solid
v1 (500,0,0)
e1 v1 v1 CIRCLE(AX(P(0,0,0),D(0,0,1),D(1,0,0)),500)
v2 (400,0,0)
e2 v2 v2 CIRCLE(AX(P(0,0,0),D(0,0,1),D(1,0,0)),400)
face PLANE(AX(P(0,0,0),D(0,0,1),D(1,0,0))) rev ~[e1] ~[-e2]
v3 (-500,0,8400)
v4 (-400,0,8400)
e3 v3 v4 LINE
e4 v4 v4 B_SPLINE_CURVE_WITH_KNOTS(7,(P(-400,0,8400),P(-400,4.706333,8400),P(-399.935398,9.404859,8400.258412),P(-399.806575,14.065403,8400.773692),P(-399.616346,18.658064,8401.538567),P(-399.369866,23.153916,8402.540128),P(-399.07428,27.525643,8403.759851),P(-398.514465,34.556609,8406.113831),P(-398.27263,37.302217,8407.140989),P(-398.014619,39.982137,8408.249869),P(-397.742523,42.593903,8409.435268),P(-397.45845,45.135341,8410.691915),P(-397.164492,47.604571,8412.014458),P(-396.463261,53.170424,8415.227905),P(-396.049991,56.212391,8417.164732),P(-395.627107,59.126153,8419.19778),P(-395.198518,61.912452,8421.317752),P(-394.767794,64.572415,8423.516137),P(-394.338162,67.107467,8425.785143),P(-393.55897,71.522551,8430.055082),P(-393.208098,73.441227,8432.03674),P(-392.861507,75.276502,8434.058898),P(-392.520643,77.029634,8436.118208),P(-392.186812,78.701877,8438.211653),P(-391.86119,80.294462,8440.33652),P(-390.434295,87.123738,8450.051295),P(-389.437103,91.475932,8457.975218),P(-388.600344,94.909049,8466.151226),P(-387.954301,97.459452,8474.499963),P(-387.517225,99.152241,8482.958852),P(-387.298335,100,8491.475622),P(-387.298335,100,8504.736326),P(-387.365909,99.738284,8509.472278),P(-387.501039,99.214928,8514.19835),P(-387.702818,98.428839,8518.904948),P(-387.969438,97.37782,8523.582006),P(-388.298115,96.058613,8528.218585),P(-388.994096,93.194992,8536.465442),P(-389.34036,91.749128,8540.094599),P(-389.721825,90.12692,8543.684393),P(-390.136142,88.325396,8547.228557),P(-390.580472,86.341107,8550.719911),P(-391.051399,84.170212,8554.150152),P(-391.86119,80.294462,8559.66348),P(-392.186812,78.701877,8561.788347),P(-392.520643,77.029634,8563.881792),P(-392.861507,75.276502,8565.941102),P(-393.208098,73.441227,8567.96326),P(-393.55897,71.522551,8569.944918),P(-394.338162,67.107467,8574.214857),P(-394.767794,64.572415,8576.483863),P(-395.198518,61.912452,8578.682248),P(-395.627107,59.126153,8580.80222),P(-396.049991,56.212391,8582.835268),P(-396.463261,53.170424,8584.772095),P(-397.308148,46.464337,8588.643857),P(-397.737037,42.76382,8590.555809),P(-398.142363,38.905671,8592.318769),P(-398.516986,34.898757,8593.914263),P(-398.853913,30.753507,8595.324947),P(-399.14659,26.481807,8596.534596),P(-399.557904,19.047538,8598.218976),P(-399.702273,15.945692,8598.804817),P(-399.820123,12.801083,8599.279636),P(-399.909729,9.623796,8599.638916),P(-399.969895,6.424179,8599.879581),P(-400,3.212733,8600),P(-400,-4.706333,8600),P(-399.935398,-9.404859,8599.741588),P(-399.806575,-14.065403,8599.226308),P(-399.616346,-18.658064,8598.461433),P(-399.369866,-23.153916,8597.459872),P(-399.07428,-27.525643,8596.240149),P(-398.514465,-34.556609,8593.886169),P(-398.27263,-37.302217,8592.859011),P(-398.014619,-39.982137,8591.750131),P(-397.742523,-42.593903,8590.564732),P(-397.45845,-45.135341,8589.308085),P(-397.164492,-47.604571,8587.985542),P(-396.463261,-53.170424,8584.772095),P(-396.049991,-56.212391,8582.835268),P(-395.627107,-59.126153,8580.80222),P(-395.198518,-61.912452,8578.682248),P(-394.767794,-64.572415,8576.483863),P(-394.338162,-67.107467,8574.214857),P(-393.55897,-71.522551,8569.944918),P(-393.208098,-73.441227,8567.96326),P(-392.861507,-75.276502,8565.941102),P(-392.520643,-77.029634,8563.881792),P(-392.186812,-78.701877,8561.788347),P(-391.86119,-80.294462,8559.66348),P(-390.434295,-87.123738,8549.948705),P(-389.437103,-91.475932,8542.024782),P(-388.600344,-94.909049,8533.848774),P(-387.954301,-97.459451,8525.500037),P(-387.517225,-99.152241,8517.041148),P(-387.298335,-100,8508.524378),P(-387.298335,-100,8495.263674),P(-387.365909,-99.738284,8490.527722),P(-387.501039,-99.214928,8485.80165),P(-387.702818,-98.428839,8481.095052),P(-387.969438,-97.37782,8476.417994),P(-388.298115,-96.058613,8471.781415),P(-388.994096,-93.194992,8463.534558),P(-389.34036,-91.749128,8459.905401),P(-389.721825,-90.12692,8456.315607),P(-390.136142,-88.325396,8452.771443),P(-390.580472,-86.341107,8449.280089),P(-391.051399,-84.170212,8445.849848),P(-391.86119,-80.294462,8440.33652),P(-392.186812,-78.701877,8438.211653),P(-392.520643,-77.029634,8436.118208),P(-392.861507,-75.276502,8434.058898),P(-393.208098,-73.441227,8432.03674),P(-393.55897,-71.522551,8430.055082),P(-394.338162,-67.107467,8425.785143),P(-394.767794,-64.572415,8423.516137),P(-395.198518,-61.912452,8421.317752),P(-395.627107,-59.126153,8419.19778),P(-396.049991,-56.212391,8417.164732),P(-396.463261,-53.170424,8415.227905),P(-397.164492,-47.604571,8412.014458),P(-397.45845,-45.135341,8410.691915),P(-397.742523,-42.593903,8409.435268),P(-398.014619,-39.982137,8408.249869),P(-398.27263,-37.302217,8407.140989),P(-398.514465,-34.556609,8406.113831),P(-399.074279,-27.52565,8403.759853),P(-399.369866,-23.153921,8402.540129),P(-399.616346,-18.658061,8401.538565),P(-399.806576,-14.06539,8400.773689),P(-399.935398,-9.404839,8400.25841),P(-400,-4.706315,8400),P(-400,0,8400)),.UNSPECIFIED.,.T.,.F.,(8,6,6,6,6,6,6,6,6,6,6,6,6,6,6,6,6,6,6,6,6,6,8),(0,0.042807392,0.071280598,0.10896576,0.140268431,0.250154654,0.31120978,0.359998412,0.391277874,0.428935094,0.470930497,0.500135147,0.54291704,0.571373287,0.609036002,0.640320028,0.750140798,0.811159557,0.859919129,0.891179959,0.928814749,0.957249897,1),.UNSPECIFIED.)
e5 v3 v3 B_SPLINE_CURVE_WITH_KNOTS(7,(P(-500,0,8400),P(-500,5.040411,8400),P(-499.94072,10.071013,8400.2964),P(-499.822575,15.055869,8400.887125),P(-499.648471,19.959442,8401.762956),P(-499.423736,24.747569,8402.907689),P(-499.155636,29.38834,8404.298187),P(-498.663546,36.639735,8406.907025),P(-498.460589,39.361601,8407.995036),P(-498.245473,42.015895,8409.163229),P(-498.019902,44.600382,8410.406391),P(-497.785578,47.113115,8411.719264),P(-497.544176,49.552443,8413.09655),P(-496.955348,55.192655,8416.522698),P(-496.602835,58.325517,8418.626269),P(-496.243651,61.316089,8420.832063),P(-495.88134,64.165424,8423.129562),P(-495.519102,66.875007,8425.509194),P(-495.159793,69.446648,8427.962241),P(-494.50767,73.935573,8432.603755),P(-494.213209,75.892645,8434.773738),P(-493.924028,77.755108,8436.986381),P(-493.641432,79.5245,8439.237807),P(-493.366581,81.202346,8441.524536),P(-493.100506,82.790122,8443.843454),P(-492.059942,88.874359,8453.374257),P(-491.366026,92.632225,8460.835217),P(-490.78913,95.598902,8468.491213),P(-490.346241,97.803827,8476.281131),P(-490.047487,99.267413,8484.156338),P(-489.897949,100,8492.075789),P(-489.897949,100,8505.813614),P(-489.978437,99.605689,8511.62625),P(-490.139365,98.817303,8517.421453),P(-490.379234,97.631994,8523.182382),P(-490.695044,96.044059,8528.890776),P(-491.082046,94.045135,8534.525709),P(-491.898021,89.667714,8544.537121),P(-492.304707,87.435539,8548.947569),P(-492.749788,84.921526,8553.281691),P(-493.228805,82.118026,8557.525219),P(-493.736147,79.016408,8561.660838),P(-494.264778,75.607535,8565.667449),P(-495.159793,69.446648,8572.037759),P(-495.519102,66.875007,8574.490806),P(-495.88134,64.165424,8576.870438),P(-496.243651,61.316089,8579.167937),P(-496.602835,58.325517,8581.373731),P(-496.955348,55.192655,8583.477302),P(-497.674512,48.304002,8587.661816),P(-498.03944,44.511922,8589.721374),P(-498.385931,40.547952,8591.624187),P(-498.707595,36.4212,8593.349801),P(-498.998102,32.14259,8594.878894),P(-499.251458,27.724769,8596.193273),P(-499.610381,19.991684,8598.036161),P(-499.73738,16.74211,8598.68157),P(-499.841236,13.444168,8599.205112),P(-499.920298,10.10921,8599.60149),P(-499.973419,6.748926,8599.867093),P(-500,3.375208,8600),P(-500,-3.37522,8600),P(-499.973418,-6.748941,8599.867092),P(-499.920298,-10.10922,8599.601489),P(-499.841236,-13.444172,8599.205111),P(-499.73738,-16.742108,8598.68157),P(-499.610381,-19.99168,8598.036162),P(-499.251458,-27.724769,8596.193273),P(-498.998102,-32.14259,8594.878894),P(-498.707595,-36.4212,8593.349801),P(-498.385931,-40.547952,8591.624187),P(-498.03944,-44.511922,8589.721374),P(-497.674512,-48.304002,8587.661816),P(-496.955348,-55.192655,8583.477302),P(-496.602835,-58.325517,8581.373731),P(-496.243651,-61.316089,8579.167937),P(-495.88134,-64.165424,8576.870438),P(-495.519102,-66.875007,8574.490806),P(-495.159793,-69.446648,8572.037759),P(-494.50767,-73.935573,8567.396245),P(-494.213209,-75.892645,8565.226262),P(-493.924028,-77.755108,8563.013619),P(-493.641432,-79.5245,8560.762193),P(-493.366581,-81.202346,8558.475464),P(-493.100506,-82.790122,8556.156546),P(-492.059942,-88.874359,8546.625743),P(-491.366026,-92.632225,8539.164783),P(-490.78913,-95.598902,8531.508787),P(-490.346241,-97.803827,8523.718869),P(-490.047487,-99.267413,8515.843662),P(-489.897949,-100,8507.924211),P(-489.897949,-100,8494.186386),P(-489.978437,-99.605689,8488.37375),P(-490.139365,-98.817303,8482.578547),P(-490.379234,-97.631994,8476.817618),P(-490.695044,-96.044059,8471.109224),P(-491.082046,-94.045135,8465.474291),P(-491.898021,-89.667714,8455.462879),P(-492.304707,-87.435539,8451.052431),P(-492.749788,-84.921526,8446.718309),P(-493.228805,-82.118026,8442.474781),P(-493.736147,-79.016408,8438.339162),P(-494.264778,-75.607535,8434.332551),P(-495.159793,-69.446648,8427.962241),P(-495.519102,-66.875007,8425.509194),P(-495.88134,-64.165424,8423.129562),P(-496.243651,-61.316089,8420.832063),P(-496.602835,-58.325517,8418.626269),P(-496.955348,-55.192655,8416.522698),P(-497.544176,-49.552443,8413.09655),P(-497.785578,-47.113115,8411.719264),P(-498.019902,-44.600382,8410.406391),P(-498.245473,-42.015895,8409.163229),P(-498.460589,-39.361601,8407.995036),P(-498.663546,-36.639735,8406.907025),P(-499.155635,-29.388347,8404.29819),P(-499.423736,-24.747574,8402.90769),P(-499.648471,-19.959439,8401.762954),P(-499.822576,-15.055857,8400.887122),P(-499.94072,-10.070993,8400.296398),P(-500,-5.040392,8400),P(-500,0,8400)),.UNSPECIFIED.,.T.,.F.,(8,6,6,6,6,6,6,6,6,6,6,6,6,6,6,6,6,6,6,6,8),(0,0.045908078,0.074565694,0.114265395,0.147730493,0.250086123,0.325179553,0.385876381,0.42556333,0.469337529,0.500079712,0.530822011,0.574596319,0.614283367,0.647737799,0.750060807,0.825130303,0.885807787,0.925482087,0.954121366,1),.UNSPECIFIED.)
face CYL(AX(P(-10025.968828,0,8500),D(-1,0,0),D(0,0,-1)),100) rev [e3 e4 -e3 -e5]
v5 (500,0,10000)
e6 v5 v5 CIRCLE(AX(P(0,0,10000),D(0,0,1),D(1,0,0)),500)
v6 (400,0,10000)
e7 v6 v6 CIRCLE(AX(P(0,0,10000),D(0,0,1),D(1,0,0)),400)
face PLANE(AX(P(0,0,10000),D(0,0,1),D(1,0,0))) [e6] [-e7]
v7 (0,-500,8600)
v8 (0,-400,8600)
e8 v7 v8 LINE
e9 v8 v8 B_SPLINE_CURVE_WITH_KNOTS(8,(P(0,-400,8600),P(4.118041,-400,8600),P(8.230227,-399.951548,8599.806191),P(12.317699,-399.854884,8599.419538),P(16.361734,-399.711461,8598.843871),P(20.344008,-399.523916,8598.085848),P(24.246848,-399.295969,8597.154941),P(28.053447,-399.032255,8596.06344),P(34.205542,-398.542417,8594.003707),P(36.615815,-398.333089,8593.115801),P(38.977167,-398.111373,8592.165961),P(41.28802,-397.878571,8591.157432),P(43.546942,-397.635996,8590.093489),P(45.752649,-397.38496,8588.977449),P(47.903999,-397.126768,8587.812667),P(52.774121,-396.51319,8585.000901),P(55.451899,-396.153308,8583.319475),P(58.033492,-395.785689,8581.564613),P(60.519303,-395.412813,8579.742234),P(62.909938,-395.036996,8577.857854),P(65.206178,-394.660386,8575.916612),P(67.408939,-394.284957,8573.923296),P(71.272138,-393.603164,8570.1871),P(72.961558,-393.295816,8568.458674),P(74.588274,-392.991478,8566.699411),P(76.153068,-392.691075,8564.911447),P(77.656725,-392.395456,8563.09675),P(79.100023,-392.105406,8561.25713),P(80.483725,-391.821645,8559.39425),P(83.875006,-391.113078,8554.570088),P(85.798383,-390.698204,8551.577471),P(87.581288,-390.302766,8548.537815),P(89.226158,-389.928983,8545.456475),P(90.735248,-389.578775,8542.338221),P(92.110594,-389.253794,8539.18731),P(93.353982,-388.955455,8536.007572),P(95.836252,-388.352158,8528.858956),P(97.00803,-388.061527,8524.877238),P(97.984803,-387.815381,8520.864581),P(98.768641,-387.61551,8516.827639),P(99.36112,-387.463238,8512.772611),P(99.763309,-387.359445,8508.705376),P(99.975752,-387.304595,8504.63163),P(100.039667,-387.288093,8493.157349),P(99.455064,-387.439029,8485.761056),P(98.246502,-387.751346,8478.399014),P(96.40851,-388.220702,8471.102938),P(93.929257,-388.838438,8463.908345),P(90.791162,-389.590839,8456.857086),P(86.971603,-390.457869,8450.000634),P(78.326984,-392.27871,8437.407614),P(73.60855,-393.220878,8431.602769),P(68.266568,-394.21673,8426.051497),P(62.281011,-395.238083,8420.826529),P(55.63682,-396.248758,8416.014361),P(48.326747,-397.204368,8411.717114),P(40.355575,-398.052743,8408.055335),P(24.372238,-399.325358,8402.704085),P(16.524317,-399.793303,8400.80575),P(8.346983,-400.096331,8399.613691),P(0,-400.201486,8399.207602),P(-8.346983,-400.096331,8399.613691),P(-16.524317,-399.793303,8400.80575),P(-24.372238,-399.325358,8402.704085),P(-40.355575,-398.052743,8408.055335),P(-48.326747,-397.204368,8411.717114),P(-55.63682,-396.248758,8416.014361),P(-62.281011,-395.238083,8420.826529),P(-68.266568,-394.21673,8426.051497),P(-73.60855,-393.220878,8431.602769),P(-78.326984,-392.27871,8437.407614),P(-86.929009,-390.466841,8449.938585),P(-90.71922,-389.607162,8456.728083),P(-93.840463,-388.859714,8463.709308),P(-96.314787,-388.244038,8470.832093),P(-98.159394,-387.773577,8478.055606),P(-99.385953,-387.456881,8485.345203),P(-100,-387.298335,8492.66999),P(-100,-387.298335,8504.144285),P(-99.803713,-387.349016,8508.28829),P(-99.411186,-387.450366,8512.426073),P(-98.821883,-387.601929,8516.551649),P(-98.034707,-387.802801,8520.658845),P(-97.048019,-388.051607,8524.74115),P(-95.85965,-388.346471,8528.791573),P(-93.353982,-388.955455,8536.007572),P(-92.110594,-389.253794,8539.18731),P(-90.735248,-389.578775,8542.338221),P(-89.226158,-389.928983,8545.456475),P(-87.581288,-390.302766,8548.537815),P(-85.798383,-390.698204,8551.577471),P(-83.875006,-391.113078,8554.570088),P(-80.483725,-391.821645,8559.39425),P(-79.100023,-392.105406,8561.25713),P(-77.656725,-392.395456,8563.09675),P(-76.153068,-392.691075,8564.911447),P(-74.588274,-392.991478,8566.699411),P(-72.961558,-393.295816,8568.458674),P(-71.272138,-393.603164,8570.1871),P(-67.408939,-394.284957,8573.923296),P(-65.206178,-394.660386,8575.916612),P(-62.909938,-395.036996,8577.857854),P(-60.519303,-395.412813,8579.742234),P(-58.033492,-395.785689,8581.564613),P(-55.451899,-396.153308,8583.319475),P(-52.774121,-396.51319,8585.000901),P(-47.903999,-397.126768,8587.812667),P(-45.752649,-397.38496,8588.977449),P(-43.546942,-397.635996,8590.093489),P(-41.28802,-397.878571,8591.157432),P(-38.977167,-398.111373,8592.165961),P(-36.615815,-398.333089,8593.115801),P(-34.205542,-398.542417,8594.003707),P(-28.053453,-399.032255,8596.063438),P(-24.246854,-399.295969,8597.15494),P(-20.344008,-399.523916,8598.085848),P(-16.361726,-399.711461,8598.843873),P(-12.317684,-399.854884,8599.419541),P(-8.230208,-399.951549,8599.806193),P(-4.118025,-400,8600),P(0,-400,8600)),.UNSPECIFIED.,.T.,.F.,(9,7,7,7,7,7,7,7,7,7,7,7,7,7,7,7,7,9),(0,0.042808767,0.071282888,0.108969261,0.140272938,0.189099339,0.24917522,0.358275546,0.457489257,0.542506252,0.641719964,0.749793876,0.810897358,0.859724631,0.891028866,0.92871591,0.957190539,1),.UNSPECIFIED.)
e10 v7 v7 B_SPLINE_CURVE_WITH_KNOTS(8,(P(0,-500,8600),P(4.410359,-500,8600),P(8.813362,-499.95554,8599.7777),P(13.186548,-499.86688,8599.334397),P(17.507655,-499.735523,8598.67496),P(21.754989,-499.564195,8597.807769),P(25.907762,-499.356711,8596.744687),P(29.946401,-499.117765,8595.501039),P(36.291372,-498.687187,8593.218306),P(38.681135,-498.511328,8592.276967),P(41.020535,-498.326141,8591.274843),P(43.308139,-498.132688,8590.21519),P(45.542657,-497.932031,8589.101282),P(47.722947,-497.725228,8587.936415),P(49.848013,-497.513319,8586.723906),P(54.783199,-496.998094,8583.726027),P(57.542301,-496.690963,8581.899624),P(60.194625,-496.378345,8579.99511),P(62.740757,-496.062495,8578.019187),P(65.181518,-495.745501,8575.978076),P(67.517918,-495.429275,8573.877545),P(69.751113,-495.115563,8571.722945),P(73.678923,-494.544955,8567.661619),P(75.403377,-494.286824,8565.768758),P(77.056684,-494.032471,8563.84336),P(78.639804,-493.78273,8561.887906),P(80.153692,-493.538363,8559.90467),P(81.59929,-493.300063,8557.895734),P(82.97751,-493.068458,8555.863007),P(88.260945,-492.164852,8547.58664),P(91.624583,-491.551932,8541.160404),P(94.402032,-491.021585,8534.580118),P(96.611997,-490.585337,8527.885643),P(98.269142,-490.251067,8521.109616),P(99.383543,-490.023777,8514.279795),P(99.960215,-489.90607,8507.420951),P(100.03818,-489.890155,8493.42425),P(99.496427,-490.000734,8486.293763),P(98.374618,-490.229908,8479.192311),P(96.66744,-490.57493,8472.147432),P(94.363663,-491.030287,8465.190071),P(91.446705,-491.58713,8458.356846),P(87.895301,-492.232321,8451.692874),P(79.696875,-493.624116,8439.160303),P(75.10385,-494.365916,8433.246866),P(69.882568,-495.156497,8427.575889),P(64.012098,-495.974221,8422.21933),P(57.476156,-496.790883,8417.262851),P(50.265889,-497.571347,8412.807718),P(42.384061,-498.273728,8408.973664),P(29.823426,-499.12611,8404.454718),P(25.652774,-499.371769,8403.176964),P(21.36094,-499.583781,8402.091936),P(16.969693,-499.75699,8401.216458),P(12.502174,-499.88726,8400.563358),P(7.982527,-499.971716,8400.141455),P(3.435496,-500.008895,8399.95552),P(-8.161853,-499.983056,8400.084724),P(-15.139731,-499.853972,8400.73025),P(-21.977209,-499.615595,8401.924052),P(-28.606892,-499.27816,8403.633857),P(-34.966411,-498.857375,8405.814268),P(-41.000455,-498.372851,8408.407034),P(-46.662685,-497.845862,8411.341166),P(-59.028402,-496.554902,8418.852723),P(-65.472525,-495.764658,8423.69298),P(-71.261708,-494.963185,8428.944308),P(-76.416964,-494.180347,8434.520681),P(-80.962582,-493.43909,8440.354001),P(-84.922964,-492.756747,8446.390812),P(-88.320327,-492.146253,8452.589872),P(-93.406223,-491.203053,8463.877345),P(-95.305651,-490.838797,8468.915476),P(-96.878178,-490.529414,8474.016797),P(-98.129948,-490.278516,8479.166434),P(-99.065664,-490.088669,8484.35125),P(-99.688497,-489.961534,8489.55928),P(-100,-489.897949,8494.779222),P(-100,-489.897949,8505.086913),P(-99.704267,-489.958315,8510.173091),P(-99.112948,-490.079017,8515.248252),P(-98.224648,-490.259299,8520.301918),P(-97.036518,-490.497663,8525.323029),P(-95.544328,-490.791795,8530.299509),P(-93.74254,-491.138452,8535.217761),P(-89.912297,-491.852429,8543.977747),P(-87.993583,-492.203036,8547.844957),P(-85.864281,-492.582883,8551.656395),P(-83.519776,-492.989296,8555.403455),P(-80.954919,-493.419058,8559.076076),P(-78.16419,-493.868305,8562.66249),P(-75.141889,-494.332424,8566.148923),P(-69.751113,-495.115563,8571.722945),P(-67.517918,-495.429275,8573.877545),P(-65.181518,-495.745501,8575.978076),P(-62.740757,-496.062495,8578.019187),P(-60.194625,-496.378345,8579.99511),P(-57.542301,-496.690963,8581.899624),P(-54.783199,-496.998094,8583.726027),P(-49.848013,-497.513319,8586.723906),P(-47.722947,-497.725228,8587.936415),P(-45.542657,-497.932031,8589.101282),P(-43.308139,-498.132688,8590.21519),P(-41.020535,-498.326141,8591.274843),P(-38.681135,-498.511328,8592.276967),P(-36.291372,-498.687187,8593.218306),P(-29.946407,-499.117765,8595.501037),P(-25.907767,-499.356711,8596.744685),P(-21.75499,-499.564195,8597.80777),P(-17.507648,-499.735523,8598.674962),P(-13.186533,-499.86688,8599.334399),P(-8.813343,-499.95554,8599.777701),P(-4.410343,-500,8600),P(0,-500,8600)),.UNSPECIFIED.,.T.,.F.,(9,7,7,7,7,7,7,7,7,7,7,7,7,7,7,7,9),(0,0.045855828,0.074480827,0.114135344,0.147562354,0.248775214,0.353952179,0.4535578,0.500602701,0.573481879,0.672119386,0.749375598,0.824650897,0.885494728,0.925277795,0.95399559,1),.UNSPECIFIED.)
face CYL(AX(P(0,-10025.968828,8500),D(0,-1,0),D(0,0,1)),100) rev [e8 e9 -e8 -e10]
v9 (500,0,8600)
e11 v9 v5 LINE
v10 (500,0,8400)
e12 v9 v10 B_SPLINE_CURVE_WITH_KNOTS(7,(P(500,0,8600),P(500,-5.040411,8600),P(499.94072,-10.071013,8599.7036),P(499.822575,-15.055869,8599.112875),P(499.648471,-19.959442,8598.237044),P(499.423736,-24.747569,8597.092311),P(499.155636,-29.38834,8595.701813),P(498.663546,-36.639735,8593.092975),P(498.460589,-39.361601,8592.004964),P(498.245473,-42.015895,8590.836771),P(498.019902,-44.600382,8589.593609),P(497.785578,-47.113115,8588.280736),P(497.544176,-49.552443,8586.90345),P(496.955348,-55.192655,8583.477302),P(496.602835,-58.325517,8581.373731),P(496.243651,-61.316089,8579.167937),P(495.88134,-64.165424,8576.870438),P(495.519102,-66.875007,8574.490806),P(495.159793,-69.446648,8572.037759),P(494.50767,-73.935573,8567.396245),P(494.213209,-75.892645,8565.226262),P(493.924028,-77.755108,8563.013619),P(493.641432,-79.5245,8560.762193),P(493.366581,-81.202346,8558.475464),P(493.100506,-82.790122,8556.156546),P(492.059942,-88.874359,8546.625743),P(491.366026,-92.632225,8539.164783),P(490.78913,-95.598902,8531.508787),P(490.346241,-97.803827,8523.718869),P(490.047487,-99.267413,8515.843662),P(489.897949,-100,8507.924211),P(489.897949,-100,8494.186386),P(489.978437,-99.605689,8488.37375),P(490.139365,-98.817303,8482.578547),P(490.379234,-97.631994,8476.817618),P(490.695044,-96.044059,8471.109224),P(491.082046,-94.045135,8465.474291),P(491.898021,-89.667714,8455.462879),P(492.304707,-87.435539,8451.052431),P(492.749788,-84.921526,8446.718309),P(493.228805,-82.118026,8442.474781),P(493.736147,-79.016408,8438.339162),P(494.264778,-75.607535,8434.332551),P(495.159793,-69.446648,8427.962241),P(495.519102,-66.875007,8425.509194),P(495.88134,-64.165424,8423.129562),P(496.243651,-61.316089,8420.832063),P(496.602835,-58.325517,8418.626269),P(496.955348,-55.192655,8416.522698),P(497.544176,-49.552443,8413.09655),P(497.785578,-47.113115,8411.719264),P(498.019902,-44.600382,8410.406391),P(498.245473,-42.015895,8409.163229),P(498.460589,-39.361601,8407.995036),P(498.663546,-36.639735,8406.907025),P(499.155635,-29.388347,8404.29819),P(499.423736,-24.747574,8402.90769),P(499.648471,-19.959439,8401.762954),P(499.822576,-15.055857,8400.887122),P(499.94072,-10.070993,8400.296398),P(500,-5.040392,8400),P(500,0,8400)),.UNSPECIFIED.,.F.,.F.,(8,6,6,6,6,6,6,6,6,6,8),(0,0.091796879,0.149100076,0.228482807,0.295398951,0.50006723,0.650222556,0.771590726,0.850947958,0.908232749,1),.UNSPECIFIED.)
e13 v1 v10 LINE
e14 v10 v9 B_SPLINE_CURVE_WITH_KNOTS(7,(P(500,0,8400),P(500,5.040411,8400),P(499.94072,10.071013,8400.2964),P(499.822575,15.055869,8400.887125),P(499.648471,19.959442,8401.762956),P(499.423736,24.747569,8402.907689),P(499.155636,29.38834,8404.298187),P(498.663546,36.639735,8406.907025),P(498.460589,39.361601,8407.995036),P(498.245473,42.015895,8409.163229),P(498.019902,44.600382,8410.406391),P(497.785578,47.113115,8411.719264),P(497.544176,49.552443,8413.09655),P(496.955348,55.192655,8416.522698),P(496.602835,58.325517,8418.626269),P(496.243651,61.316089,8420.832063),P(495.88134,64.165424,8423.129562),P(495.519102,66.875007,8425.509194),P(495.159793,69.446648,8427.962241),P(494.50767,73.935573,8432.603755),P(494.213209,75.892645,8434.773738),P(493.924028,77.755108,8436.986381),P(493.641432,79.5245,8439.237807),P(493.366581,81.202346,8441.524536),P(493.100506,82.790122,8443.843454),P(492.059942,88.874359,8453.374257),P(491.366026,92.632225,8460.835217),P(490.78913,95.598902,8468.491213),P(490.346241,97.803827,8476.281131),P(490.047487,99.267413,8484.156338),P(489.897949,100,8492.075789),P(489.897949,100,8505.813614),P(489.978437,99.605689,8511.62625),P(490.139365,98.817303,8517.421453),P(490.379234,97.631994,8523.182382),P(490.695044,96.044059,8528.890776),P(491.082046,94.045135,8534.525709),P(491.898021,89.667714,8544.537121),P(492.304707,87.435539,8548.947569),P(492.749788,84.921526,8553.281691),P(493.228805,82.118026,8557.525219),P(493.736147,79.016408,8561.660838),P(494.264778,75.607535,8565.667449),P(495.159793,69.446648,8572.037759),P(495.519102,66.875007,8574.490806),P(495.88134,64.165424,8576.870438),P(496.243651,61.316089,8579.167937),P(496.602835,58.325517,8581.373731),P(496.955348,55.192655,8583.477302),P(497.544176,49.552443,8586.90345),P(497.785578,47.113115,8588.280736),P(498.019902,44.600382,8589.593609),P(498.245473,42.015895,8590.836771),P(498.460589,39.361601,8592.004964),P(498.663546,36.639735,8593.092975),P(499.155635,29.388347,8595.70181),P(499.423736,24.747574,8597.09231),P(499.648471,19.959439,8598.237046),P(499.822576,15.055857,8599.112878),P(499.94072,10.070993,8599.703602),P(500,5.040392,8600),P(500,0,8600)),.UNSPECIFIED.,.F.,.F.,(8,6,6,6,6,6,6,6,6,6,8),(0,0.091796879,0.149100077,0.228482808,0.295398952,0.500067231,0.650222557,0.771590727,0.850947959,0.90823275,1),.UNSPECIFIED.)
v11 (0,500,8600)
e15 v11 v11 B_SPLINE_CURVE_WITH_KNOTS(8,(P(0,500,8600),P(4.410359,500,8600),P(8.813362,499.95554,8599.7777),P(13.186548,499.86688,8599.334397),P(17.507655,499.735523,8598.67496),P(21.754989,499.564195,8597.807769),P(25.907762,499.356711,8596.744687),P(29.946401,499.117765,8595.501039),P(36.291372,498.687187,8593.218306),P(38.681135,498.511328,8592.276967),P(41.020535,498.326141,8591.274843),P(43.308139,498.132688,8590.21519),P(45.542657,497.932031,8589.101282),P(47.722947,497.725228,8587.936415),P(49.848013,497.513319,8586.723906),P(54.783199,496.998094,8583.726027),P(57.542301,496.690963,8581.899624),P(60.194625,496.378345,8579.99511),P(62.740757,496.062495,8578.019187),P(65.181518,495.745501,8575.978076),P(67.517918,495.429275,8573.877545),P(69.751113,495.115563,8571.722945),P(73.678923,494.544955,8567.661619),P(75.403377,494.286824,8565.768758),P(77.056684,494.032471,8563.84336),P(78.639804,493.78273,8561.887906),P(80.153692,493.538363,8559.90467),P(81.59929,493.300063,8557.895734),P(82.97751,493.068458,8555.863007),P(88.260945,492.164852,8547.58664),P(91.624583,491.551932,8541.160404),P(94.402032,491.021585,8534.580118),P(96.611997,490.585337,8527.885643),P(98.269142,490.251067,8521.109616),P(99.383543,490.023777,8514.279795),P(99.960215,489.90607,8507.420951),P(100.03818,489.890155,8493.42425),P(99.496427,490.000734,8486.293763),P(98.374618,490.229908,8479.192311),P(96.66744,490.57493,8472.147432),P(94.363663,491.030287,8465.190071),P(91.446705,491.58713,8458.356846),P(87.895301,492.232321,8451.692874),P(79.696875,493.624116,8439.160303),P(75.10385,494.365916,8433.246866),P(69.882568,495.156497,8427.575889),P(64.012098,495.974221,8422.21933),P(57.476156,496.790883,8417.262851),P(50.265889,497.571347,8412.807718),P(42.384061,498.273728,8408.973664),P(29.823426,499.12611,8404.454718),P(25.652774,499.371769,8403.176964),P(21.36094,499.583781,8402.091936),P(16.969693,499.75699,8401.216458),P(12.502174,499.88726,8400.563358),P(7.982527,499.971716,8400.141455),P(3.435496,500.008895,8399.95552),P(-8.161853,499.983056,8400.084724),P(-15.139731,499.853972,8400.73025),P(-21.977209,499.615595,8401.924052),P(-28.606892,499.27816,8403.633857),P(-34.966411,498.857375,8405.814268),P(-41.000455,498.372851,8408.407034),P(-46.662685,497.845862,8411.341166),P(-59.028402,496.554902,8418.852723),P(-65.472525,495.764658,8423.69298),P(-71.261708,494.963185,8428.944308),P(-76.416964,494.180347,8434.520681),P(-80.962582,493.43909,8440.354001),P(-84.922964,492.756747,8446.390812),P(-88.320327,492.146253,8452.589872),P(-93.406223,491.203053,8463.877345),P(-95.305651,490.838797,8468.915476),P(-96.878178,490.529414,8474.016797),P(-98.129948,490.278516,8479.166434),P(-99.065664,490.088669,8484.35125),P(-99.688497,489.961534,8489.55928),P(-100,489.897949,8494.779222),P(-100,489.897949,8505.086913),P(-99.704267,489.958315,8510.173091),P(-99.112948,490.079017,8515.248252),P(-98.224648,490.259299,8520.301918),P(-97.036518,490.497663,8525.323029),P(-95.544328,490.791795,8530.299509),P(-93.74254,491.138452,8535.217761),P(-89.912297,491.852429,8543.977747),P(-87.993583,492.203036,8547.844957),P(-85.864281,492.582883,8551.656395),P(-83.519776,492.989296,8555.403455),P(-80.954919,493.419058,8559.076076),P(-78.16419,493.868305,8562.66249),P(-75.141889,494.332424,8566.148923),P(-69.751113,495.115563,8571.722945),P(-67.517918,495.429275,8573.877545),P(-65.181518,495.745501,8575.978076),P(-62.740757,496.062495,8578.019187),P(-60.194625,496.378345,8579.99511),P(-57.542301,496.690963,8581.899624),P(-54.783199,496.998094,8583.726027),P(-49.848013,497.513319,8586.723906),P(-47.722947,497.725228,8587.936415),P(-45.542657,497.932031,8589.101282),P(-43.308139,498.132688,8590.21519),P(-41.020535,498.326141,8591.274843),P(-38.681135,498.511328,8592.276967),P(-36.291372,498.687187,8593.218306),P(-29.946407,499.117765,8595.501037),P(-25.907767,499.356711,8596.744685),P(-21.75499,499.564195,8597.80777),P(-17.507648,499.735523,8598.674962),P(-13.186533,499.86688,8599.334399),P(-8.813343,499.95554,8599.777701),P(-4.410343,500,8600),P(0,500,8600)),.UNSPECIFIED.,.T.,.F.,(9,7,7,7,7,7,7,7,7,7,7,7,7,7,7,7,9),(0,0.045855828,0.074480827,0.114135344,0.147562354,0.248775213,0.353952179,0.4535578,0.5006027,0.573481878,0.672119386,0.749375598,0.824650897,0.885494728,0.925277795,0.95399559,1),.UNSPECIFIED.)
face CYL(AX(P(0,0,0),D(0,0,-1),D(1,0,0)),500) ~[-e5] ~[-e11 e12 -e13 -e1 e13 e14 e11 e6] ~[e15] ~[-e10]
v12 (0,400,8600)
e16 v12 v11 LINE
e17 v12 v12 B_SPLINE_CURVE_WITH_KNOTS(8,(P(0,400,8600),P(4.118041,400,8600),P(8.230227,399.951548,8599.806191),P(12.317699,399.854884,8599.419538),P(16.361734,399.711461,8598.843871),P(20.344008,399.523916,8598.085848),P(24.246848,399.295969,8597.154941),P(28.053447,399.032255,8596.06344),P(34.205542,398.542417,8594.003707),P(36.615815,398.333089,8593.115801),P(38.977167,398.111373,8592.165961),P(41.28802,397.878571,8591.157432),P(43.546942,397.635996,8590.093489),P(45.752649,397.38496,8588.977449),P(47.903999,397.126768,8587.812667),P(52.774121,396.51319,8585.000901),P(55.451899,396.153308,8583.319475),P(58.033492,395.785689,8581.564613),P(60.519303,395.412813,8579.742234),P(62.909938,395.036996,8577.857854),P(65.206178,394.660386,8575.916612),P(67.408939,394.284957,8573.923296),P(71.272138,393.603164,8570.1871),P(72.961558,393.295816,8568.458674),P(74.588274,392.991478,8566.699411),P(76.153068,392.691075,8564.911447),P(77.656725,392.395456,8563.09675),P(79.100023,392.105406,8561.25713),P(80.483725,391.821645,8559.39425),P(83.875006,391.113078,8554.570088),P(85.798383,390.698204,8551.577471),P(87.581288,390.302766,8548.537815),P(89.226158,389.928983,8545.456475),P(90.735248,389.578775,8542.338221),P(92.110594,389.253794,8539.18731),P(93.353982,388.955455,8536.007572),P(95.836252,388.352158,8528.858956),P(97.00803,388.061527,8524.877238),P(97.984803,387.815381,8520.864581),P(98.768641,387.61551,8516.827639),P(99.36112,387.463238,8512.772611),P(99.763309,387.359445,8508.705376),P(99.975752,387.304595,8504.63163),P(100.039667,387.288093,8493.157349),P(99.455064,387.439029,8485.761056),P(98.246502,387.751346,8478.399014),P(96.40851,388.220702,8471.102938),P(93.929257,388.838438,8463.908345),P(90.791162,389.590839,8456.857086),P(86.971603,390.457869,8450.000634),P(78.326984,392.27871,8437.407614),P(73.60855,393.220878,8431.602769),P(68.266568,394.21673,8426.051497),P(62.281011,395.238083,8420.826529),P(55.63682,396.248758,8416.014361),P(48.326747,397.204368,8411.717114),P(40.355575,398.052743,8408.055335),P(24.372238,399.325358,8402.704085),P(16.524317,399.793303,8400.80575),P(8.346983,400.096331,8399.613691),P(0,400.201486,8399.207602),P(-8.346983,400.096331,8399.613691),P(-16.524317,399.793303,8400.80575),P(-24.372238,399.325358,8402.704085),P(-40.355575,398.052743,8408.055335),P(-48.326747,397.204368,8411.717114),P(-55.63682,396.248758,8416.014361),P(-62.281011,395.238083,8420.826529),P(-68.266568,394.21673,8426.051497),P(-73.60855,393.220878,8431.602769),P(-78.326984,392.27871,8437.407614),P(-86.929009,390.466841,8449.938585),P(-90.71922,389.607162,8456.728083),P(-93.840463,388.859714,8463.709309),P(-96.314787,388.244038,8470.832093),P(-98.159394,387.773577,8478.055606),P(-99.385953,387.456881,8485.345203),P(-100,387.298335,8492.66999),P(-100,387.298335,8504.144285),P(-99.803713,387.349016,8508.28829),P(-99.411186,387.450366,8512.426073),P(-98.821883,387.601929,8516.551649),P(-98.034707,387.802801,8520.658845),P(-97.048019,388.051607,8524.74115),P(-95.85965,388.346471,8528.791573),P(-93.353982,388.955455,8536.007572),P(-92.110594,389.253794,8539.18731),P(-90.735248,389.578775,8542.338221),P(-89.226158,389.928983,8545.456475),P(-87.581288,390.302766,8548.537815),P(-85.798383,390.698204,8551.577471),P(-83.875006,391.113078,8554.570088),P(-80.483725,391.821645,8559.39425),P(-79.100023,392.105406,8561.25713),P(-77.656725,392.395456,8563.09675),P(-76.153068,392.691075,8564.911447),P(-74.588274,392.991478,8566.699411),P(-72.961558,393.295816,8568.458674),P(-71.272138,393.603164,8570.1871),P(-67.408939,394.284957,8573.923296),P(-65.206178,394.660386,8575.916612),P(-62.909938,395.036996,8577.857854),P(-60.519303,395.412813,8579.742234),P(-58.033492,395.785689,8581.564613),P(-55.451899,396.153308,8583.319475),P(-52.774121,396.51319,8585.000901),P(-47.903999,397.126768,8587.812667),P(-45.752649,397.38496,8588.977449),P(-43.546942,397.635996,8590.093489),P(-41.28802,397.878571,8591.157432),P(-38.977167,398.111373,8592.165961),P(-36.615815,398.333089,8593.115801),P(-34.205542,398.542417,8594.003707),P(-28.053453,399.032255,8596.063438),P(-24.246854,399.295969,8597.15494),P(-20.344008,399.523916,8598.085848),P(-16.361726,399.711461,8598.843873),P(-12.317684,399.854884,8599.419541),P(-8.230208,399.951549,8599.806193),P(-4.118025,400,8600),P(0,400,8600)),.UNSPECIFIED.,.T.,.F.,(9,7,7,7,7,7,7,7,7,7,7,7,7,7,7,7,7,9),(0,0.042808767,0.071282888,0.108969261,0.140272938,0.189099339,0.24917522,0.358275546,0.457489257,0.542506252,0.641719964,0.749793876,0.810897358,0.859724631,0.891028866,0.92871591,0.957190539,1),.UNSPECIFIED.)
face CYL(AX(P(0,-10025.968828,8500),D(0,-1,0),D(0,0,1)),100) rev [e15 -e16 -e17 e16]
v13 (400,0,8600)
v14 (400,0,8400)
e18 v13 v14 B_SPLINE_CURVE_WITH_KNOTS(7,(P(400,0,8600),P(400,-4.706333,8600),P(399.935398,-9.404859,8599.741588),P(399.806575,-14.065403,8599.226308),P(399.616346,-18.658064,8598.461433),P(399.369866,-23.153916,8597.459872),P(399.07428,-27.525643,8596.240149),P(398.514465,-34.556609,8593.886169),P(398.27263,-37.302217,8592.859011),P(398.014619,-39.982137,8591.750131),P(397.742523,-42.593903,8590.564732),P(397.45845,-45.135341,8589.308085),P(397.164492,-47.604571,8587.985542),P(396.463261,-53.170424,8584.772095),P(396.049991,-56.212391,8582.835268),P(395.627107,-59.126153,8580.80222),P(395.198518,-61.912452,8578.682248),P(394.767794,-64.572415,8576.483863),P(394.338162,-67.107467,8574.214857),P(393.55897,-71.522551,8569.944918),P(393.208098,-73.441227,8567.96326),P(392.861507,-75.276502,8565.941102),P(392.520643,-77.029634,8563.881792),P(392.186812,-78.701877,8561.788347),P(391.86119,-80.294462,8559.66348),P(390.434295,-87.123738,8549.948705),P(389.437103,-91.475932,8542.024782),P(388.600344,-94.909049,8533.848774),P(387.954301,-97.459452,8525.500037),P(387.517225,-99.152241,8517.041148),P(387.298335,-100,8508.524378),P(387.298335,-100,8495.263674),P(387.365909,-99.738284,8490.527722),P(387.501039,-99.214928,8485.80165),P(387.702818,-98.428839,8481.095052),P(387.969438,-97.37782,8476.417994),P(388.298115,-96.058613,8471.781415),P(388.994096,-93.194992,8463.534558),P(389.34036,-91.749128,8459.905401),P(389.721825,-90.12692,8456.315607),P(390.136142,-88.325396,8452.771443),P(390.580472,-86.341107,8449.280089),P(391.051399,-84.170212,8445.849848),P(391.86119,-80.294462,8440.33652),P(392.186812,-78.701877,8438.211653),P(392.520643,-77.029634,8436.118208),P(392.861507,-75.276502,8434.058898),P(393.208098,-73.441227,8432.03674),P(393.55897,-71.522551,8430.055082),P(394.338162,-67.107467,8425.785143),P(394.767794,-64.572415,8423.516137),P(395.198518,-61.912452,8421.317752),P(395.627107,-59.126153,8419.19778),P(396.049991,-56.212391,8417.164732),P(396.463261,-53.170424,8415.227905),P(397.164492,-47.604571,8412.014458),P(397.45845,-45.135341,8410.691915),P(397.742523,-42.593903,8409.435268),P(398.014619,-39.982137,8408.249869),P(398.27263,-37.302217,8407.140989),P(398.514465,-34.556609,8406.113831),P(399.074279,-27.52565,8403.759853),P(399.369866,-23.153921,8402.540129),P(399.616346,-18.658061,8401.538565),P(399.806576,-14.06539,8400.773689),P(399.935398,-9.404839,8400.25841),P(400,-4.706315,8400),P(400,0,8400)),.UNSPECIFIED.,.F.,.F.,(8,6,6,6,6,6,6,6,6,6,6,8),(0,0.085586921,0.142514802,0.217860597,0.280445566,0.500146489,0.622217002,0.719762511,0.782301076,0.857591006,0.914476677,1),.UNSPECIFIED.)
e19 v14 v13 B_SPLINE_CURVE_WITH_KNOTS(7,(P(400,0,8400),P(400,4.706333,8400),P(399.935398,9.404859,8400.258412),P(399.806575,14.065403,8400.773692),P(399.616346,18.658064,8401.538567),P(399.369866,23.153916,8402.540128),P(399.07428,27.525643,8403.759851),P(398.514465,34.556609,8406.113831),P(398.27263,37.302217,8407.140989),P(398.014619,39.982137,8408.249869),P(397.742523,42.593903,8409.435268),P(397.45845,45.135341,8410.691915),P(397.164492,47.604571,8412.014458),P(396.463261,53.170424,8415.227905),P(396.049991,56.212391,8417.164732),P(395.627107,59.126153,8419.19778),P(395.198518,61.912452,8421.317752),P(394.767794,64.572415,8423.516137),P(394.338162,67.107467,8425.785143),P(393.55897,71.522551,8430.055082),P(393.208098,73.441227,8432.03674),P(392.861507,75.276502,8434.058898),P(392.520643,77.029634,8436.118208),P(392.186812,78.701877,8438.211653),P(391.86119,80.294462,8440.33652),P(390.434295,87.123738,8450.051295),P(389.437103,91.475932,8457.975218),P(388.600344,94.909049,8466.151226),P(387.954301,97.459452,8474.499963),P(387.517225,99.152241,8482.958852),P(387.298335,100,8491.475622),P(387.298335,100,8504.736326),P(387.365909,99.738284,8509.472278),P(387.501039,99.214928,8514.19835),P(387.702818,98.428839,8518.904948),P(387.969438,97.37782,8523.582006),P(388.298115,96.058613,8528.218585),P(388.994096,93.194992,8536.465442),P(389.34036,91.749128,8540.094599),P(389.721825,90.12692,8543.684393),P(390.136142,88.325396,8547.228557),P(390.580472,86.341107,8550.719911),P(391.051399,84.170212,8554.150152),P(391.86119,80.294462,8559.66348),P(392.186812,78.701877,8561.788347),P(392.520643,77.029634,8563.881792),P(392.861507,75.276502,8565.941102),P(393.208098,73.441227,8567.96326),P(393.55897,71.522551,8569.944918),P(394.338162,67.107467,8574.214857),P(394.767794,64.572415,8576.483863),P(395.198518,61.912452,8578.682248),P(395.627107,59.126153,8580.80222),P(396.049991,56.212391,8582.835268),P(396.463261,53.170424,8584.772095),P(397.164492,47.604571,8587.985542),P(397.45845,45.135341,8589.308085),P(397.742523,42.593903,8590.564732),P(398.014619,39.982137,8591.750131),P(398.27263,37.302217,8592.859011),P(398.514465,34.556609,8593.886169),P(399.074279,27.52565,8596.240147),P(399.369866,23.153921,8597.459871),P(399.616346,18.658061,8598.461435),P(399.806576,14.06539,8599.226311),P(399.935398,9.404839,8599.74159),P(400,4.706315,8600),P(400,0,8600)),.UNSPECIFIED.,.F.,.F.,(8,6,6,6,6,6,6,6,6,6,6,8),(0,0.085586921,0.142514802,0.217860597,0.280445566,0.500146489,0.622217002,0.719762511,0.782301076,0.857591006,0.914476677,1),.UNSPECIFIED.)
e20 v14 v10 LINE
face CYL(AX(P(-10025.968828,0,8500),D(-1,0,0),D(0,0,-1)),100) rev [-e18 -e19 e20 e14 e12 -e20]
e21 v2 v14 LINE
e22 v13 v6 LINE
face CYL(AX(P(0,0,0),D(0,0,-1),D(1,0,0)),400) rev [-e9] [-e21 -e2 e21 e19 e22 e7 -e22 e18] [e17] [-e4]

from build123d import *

# Parameters (mm, degrees)
SKETCH1_R               = 500
SKETCH1_R_2             = 400
BOSS_EXTRUDE1_DEPTH     = 10000
CUT_EXTRUDE1_DEPTH      = 10025.968827882
CUT_EXTRUDE1_DEPTH_BACK = 10025.968827882
SKETCH2_R               = 100
CUT_EXTRUDE2_DEPTH      = 10025.968827991
CUT_EXTRUDE2_DEPTH_BACK = 10025.968827991
SKETCH3_R               = 100


with BuildPart() as part:
    # Sketch1 → Boss-Extrude1 (new body)
    with BuildSketch(Plane.XY):
        Circle(SKETCH1_R)
        Circle(SKETCH1_R_2, mode=Mode.SUBTRACT)
    extrude(amount=BOSS_EXTRUDE1_DEPTH)

    # Sketch2 → Cut-Extrude1 (cut, two sides: drawn at the far end of the back side and taken through both)
    with BuildSketch(Plane(origin=(0, 0, 0), x_dir=(1, 0, 0), z_dir=(0, 1, 0)).offset(-CUT_EXTRUDE1_DEPTH_BACK)):
        with Locations(Location((0, -8500, 0), (0, 0, 270))):
            Circle(SKETCH2_R)
    extrude(amount=CUT_EXTRUDE1_DEPTH + CUT_EXTRUDE1_DEPTH_BACK, mode=Mode.SUBTRACT)

    # Sketch3 → Cut-Extrude2 (cut, two sides: drawn at the far end of the back side and taken through both)
    with BuildSketch(Plane(origin=(0, 0, 0), x_dir=(0, 0, -1), z_dir=(1, 0, 0)).offset(-CUT_EXTRUDE2_DEPTH_BACK)):
        with Locations((-8500, 0)):
            Circle(SKETCH3_R)
    extrude(amount=CUT_EXTRUDE2_DEPTH + CUT_EXTRUDE2_DEPTH_BACK, mode=Mode.SUBTRACT)


solid = part.part
